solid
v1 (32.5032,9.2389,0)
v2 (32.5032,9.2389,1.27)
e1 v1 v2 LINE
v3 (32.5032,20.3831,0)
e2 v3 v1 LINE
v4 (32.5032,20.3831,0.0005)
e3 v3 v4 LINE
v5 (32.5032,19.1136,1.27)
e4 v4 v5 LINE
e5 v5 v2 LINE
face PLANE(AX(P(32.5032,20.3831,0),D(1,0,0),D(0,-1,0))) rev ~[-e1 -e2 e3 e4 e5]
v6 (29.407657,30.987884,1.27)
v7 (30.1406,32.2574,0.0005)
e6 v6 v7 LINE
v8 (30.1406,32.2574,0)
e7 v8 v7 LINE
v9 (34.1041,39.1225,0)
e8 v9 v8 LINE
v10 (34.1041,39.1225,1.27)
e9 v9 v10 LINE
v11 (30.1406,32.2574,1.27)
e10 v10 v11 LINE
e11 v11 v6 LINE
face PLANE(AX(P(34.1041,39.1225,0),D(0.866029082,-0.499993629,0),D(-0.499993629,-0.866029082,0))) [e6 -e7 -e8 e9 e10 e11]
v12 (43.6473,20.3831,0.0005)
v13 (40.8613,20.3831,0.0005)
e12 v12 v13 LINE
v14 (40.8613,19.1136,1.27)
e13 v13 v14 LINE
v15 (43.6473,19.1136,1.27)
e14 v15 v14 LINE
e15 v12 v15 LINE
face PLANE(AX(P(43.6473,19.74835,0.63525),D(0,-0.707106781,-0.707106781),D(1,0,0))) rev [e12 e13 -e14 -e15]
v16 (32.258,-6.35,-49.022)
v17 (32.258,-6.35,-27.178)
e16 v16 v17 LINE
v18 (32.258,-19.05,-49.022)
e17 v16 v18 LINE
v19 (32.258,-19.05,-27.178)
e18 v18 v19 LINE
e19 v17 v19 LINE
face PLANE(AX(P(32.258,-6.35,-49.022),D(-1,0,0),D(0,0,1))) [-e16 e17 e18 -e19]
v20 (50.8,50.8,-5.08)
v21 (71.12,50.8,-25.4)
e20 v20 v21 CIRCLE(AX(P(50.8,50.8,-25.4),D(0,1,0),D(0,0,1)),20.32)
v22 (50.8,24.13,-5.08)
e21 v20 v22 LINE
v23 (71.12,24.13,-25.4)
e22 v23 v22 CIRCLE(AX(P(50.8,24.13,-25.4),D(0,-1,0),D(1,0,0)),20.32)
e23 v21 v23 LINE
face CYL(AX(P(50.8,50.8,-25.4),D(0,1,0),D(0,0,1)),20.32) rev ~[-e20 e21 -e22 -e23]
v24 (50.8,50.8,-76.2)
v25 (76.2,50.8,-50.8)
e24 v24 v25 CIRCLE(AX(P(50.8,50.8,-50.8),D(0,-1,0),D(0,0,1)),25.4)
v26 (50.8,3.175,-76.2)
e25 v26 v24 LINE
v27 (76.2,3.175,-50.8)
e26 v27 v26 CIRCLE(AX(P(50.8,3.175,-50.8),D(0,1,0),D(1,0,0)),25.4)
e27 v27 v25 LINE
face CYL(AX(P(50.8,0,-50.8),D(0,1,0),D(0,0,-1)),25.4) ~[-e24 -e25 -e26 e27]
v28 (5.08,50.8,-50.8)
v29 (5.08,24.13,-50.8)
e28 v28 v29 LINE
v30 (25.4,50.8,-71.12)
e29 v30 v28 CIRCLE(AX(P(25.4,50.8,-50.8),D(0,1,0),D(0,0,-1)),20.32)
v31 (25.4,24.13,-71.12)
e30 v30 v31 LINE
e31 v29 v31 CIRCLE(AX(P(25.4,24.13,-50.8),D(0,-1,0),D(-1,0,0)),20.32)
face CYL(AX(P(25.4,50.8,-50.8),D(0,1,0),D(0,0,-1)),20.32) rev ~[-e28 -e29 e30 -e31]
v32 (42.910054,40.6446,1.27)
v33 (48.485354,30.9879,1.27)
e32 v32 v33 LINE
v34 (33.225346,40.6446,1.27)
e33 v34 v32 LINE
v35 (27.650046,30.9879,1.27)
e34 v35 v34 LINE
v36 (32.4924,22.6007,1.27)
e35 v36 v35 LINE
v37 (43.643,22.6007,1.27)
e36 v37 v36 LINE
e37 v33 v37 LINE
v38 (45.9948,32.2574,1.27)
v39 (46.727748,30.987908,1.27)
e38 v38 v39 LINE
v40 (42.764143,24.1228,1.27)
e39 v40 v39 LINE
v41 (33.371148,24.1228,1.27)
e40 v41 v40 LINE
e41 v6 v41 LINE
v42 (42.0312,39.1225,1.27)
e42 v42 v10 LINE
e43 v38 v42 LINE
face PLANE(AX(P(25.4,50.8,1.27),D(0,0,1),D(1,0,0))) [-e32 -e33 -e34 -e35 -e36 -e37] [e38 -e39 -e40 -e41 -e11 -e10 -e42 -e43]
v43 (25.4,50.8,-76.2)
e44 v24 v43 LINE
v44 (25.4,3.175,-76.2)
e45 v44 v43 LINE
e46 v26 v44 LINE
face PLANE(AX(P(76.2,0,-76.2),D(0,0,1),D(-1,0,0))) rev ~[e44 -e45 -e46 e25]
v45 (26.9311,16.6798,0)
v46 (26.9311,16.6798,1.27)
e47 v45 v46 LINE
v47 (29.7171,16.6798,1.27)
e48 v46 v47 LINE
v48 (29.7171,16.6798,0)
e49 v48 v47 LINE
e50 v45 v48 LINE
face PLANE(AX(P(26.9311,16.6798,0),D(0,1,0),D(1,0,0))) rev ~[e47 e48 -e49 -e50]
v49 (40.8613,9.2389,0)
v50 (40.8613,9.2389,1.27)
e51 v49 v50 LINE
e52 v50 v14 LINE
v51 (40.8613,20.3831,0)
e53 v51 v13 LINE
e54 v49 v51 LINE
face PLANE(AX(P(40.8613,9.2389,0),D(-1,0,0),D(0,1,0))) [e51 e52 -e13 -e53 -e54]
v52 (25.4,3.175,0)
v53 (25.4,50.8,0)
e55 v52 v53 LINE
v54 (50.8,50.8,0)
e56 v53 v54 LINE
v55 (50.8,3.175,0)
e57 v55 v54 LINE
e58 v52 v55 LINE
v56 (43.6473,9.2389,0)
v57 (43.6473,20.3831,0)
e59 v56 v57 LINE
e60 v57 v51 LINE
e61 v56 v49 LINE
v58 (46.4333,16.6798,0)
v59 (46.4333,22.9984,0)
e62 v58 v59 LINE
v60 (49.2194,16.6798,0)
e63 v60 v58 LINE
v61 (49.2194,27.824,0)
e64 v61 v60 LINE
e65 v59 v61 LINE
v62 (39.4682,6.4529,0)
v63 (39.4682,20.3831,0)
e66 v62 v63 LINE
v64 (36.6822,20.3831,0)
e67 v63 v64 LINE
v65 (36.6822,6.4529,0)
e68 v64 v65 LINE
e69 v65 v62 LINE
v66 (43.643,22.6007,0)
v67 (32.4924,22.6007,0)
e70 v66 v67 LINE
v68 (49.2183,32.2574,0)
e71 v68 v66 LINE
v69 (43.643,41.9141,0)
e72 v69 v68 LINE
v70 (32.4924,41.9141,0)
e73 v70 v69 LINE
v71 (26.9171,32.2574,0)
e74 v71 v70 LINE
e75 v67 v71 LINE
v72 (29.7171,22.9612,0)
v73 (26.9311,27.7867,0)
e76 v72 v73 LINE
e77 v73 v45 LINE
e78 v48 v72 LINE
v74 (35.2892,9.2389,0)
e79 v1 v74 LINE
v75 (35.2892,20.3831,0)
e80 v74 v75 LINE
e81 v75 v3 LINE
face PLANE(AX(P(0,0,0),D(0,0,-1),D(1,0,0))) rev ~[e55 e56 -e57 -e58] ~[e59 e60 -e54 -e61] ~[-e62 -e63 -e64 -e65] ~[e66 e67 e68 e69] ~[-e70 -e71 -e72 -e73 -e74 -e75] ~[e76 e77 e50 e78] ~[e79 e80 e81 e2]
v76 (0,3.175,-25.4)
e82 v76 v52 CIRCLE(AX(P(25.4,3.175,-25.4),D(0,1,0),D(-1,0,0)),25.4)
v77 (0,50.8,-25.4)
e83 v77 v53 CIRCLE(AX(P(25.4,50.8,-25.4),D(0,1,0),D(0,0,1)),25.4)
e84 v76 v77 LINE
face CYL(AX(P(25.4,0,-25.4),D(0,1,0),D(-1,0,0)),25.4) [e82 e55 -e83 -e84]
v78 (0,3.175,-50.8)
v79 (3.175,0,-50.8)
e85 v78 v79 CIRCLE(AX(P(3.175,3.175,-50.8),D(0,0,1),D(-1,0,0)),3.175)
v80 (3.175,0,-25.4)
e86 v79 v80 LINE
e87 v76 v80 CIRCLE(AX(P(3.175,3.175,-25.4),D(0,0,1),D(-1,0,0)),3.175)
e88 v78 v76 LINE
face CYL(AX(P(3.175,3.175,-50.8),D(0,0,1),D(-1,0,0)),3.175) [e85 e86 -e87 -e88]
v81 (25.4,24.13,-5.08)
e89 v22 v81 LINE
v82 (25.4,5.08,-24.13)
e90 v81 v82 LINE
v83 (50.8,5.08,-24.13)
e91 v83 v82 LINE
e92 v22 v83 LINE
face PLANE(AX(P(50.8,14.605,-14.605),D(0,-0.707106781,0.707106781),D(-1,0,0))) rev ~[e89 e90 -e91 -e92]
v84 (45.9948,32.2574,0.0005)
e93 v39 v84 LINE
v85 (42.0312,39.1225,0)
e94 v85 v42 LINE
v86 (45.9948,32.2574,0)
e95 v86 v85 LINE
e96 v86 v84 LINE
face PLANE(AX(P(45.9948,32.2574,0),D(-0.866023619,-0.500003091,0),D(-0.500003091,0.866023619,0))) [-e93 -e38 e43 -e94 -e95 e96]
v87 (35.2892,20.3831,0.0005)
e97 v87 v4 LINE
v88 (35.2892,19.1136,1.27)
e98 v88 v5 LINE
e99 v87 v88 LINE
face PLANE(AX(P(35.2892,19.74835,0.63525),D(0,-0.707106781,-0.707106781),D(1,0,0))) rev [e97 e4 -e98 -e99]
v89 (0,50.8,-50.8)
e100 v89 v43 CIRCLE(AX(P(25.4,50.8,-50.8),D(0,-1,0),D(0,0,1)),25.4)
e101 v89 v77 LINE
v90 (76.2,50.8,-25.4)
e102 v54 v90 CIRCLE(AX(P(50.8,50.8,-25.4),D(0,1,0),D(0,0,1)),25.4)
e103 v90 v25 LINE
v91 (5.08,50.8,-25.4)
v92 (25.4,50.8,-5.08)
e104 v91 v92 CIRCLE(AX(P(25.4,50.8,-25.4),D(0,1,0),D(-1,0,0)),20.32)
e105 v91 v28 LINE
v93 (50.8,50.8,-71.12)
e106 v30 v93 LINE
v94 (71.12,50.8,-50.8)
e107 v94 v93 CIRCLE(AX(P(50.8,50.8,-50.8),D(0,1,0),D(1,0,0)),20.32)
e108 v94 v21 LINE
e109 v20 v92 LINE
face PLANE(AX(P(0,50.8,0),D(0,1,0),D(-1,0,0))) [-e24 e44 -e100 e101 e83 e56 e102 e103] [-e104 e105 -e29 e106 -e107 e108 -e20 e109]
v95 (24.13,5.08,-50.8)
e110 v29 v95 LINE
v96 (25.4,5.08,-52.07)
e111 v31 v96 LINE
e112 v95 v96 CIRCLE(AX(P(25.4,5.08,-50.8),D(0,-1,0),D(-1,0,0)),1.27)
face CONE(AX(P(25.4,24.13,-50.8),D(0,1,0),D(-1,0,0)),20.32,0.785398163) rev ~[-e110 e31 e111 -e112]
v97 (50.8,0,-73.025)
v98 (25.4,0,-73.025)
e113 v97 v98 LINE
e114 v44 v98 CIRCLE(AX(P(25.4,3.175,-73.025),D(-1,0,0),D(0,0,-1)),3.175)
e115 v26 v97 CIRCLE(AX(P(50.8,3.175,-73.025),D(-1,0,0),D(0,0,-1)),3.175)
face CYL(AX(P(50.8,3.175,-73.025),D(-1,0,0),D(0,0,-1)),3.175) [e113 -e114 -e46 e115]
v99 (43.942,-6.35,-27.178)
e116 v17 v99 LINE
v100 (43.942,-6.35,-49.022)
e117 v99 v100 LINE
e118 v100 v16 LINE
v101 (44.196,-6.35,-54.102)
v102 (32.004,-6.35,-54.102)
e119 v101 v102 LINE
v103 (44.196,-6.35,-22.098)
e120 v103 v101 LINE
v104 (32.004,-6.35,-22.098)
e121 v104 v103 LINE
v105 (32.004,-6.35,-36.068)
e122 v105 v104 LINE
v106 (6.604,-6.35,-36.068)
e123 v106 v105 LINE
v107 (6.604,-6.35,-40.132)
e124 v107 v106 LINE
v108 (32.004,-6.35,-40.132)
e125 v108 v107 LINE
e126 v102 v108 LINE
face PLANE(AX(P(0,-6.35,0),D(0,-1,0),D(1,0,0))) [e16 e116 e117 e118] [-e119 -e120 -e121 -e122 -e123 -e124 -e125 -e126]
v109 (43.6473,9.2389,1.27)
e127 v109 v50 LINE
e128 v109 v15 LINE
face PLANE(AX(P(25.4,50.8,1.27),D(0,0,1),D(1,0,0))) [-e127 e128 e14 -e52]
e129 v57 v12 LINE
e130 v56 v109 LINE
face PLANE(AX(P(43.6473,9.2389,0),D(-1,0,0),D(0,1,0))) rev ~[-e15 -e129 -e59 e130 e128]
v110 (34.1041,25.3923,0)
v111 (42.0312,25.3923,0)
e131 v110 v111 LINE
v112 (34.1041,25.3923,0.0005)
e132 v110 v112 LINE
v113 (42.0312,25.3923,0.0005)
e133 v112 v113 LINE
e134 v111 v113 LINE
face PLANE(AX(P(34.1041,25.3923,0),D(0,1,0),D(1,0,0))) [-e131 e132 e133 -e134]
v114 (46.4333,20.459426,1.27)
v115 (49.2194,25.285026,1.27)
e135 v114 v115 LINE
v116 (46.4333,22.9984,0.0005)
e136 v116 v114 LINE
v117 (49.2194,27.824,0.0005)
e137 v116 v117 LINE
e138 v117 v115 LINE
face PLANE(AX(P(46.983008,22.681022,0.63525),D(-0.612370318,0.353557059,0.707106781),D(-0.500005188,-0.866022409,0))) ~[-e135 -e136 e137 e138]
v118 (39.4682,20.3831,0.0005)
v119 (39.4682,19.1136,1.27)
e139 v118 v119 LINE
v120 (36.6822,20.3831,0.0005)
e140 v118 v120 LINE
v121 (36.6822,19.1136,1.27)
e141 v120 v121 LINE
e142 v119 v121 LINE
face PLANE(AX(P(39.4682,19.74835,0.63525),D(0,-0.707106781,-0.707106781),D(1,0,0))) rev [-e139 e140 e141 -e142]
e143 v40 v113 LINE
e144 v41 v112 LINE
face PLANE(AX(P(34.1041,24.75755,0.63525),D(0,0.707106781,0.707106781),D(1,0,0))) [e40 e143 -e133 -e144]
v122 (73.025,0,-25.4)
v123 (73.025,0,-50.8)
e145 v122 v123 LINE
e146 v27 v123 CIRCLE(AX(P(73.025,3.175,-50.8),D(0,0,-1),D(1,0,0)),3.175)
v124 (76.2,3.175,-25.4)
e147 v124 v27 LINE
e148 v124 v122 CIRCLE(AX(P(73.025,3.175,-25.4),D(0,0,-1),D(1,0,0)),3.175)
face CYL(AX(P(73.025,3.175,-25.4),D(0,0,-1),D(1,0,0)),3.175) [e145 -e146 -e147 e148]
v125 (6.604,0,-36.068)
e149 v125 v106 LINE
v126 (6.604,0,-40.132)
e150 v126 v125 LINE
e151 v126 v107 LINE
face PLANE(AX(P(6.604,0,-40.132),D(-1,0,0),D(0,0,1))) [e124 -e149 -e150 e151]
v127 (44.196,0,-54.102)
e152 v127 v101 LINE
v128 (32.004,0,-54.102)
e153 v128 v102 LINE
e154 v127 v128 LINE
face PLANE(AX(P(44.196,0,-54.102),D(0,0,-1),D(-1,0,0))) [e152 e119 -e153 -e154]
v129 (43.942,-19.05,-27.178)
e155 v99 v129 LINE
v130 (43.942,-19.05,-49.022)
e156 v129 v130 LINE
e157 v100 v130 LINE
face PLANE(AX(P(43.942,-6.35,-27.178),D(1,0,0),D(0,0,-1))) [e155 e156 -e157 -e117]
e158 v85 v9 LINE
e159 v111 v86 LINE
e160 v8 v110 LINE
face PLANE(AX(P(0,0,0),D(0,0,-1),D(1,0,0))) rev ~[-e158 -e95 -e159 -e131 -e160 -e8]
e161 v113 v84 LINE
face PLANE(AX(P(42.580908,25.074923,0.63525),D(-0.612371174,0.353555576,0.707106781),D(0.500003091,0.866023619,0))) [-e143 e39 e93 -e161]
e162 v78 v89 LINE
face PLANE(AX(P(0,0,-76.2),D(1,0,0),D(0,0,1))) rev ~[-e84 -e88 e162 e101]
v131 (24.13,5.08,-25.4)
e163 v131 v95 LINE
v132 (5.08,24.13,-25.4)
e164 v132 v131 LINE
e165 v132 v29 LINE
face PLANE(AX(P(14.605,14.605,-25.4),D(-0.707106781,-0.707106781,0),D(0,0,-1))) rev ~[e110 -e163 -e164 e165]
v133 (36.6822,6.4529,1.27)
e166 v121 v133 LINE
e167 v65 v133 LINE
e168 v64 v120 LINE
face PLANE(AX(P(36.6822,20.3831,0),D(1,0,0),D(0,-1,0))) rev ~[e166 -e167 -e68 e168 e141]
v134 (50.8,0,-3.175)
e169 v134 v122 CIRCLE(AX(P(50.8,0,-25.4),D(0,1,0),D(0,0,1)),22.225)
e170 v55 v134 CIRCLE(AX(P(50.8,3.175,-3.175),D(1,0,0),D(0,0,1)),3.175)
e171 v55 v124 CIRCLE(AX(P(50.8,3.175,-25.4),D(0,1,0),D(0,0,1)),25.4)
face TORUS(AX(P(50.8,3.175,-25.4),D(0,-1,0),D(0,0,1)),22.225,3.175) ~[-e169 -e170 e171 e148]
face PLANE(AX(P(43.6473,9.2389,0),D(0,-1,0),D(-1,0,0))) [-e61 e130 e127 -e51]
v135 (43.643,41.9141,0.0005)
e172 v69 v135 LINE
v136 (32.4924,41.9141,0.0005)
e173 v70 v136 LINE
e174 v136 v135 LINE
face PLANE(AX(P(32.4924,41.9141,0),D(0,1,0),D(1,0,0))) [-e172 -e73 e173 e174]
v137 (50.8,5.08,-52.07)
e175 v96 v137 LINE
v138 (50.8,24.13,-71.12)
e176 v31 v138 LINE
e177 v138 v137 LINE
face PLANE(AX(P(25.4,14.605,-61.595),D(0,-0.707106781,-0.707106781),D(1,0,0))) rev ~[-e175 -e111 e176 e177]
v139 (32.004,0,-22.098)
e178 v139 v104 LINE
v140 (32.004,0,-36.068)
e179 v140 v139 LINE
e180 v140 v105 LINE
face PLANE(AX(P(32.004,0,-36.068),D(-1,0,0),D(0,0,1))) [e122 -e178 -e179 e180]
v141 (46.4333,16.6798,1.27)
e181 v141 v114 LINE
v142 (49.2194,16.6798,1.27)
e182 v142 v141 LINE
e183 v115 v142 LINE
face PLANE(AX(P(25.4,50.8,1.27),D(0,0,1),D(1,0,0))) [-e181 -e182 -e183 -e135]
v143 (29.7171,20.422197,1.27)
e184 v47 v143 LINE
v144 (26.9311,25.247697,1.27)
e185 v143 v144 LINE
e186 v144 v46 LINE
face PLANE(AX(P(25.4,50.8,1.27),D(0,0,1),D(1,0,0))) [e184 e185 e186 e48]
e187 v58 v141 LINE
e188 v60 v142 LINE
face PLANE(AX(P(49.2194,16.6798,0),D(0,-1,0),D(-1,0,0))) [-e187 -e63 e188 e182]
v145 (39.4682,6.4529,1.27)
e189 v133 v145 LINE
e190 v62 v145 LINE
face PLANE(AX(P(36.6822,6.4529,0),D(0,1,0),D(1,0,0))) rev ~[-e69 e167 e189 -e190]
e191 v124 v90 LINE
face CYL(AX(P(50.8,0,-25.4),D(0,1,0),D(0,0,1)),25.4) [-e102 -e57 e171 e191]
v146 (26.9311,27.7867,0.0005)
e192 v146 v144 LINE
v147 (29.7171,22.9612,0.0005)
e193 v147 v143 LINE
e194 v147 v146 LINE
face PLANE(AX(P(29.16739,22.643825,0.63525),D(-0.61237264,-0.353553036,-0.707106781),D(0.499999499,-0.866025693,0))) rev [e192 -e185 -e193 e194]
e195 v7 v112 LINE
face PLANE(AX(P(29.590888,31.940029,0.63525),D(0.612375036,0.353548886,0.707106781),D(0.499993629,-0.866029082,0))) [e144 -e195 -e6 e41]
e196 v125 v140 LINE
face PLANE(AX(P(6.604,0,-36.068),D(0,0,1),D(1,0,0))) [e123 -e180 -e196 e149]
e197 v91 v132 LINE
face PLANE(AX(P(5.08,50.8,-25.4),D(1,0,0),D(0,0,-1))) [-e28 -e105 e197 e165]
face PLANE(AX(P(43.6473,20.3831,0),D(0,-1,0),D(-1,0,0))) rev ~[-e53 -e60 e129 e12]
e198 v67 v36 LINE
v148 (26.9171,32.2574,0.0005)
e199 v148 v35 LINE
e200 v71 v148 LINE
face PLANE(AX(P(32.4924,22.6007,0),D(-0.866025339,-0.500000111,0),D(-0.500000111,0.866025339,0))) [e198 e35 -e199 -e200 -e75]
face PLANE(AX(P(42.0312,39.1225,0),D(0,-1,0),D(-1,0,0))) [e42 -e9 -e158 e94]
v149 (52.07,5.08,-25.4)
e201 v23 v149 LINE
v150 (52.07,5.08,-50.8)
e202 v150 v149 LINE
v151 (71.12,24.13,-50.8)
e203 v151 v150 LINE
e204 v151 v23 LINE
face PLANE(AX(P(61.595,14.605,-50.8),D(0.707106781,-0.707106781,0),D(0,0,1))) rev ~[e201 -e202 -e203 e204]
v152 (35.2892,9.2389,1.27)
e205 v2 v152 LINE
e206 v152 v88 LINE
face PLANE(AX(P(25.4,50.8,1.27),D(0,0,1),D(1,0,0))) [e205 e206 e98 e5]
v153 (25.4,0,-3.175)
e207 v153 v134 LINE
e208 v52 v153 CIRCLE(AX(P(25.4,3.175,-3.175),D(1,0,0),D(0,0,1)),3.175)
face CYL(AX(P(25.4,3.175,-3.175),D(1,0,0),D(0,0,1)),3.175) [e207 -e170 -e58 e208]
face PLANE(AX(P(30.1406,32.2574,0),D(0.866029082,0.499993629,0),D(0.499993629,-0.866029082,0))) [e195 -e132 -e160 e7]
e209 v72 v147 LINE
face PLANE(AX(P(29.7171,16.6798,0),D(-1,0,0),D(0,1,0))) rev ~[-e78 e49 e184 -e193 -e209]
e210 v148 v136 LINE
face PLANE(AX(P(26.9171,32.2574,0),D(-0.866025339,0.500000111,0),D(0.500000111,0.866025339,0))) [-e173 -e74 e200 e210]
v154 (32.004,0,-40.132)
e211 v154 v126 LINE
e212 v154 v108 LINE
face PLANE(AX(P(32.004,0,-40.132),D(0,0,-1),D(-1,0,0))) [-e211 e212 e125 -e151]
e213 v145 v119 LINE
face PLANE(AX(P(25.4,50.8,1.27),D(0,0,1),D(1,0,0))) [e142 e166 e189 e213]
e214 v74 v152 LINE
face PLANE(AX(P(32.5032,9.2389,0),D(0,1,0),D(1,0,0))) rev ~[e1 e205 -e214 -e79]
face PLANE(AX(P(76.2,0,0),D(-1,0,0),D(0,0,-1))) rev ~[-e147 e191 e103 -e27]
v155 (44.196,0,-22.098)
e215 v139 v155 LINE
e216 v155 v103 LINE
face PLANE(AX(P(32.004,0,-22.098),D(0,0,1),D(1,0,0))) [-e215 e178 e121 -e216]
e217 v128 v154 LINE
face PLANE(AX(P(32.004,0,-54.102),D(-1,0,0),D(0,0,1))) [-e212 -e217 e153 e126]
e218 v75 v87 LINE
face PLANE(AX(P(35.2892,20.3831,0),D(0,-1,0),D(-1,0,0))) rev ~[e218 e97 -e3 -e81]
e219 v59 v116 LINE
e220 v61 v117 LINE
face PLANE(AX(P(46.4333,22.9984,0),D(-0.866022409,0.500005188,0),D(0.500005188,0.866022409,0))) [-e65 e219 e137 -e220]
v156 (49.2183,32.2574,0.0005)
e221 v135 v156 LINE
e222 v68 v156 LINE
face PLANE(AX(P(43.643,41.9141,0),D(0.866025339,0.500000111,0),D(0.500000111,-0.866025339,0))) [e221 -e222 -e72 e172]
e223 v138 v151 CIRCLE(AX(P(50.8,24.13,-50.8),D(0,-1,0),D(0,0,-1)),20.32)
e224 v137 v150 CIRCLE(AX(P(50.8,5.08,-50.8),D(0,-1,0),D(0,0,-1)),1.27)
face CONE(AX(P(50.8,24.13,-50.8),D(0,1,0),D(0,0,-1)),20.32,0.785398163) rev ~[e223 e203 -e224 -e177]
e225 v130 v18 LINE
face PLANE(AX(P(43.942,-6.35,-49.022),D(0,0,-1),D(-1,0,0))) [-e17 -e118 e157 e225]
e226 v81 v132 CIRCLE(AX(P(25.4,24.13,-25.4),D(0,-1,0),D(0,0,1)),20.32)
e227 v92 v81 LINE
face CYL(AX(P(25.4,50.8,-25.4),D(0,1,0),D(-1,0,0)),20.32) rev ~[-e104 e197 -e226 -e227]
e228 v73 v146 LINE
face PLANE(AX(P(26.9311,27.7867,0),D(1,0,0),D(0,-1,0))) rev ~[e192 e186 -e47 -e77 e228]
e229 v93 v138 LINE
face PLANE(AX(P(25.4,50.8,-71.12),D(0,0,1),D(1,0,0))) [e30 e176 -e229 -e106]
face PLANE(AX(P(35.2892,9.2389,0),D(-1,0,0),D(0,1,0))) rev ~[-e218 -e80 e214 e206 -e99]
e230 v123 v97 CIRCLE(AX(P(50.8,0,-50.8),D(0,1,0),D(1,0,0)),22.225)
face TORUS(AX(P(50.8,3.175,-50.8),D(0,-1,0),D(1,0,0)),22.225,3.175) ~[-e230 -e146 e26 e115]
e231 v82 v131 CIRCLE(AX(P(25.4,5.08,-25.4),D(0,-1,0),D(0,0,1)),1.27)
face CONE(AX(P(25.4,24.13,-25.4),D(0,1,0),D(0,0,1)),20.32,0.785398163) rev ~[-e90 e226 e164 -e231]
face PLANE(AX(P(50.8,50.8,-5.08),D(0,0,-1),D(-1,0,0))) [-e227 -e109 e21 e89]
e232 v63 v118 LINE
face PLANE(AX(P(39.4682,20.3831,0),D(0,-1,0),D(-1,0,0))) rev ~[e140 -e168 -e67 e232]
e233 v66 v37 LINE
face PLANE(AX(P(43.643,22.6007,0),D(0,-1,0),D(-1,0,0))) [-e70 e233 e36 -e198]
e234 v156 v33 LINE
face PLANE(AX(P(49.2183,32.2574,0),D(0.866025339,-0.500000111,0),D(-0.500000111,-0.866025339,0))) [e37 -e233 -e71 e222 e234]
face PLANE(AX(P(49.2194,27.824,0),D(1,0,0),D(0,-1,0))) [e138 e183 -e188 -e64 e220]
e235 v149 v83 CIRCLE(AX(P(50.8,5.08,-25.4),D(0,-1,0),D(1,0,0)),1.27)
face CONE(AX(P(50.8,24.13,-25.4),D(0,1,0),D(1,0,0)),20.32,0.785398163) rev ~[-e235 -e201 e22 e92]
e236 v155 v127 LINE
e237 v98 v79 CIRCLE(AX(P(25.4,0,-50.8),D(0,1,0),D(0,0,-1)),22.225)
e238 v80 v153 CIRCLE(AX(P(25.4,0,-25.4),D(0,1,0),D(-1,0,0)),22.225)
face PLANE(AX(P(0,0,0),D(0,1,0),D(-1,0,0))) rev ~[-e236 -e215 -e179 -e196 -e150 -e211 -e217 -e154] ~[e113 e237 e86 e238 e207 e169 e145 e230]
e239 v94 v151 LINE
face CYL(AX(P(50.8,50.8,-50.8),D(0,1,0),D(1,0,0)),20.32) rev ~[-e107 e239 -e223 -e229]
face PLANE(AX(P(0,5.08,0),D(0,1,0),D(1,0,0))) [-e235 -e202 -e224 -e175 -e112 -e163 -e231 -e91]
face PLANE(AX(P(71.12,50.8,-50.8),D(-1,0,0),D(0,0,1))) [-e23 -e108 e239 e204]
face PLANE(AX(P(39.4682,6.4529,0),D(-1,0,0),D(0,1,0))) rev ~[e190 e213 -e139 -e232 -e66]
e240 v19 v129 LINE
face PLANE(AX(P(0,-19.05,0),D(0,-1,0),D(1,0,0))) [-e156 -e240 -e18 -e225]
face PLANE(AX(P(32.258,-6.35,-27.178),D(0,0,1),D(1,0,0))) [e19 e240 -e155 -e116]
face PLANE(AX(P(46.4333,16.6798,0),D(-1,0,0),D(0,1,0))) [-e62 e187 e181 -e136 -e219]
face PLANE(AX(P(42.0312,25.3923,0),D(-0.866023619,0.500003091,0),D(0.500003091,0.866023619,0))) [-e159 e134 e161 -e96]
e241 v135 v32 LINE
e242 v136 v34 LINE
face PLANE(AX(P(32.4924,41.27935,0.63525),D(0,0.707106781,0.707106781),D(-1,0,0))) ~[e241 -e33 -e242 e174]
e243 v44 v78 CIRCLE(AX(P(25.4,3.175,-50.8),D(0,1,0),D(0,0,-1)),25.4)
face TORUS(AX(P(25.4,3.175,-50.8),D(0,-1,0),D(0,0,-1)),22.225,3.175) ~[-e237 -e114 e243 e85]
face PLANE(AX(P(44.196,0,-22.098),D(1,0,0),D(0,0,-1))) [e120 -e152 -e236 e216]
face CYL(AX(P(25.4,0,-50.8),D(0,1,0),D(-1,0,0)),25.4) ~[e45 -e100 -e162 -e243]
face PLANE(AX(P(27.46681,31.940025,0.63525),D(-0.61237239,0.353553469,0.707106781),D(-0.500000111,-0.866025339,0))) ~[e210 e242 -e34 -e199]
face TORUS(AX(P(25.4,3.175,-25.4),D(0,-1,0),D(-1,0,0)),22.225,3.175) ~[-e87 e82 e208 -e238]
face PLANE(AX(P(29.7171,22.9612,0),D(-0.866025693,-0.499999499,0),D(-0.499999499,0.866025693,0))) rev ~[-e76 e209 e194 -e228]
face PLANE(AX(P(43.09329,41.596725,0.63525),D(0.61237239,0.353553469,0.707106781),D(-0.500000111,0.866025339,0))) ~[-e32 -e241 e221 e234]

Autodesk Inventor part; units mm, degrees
ref_plane "YZ Plane" through (0, 0, 0) normal (1, 0, 0) x (0, 1, 0)
ref_plane "XZ Plane" through (0, 0, 0) normal (0, 1, 0) x (-1, 0, 0)
ref_plane "XY Plane" through (0, 0, 0) normal (0, 0, 1) x (1, 0, 0)
sketch "Sketch1" plane through (0, 0, 0) normal (0, 1, 0) x (-1, 0, 0)
  line L0 (0, 0) -> (-76.2, 0)
  line L1 (-76.2, 0) -> (-76.2, -76.2)
  line L2 (-76.2, -76.2) -> (0, -76.2)
  line L3 (0, -76.2) -> (0, 0)
  dimension "d0" = 76.2
  dimension "d1" = 76.2
extrude "Extrusion1" add sketch "Sketch1" along normal blind 50.8
sketch "Sketch3" plane through (0, 0, 0) normal (0, -1, 0) x (1, 0, 0)
  line L0 (44.196, -54.102) -> (32.004, -54.102)
  line L1 (32.004, -54.102) -> (32.004, -22.098)
  line L2 (32.004, -22.098) -> (44.196, -22.098)
  line L3 (44.196, -22.098) -> (44.196, -54.102)
  line L4 (76.2, 0) -> (76.2, -76.2) projected
  line L5 (0, 0) -> (76.2, 0) projected
  line L6 (32.004, -40.132) -> (6.604, -40.132)
  line L7 (6.604, -40.132) -> (6.604, -36.068)
  line L8 (6.604, -36.068) -> (32.004, -36.068)
  line L9 (32.004, -36.068) -> (32.004, -40.132)
  point P0 (44.196, -38.1)
  point P1 (76.2, -38.1)
  point P2 (38.1, -22.098)
  point P3 (38.1, 0)
  point P4 (6.604, -38.1)
  point P5 (32.004, -38.1)
  dimension "d10" = 32.004
  dimension "d11" = 12.192
  dimension "d12" = 25.4
  dimension "d13" = 4.064
extrude "Extrusion3" add sketch "Sketch3" along normal blind 6.35
sketch "Sketch4" plane through (0, -6.35, 0) normal (0, -1, 0) x (1, 0, 0)
  line L0 (43.942, -49.022) -> (32.258, -49.022)
  line L1 (32.258, -49.022) -> (32.258, -27.178)
  line L2 (32.258, -27.178) -> (43.942, -27.178)
  line L3 (43.942, -27.178) -> (43.942, -49.022)
  line L4 (44.196, -54.102) -> (44.196, -22.098) projected
  line L5 (32.004, -54.102) -> (44.196, -54.102) projected
  point P0 (0, 0)
  point P1 (32.258, -38.1)
  point P2 (44.196, -38.1)
  point P3 (38.1, -49.022)
  point P4 (38.1, -54.102)
  dimension "d16" = 21.844
  dimension "d17" = 11.684
extrude "Extrusion4" add sketch "Sketch4" along normal blind 12.7
fillet "Fillet1" radius 25.4 4 edges at (0, 25.4, -76.2) (0, 25.4, 0) (76.2, 25.4, -76.2) (76.2, 25.4, 0)
sketch "Sketch5" plane through (0, 50.8, 0) normal (0, 1, 0) x (1, 0, 0)
  arc A0 (50.8, 0) -> (76.2, 25.4) centre (50.8, 25.4) ccw projected
  line L0 (76.2, 25.4) -> (76.2, 50.8) projected
  arc A1 (76.2, 50.8) -> (50.8, 76.2) centre (50.8, 50.8) ccw projected
  line L1 (50.8, 76.2) -> (25.4, 76.2) projected
  arc A2 (25.4, 76.2) -> (0, 50.8) centre (25.4, 50.8) ccw projected
  line L2 (0, 50.8) -> (0, 25.4) projected
  arc A3 (0, 25.4) -> (25.4, 0) centre (25.4, 25.4) ccw projected
  line L3 (25.4, 0) -> (50.8, 0) projected
  arc A4 (25.4, 71.12) -> (5.08, 50.8) centre (25.4, 50.8) ccw
  line L4 (25.4, 71.12) -> (50.8, 71.12)
  arc A5 (71.12, 50.8) -> (50.8, 71.12) centre (50.8, 50.8) ccw
  line L5 (71.12, 50.8) -> (71.12, 25.4)
  arc A6 (50.8, 5.08) -> (71.12, 25.4) centre (50.8, 25.4) ccw
  line L6 (50.8, 5.08) -> (25.4, 5.08)
  arc A7 (5.08, 25.4) -> (25.4, 5.08) centre (25.4, 25.4) ccw
  line L7 (5.08, 25.4) -> (5.08, 50.8)
  point P0 (0, 0)
  point P1 (38.1, 76.2)
  dimension "d21" = 5.08
extrude "Extrusion5" cut sketch "Sketch5" against normal blind 45.72 contours L4 A5 L5 A6 L6 A7 L7 A4
fillet "Fillet2" radius 3.175 8 edges at (0, 0, -38.1) (7.4395, 0, -7.4395) (38.1, 0, 0) (68.7605, 0, -7.4395) (76.2, 0, -38.1) (68.7605, 0, -68.7605) (38.1, 0, -76.2) (7.4395, 0, -68.7605)
chamfer "Chamfer1" distance 19.05 angle 45 8 edges at (38.1, 5.08, -5.08) (11.0316, 5.08, -11.0316) (5.08, 5.08, -38.1) (11.0316, 5.08, -65.1684) (38.1, 5.08, -71.12) (65.1684, 5.08, -65.1684) (71.12, 5.08, -38.1) (65.1684, 5.08, -11.0316)
sketch "Sketch6" plane through (0, 50.8, -50.8) normal (-1, 0, 0) x (0, 0, 1)
  line L0 (7.2288, -10.0054) -> (18.3794, -10.0054)
  line L1 (18.3794, -10.0054) -> (23.9547, -19.6621)
  line L2 (23.9547, -19.6621) -> (18.3794, -29.3188)
  line L3 (18.3794, -29.3188) -> (7.2288, -29.3188)
  line L4 (7.2288, -29.3188) -> (1.6535, -19.6621)
  line L5 (1.6535, -19.6621) -> (7.2288, -10.0054)
  line L6 (16.7677, -26.5271) -> (20.7312, -19.6621)
  line L7 (20.7312, -19.6621) -> (16.7677, -12.797)
  line L8 (16.7677, -12.797) -> (8.8406, -12.797)
  line L9 (8.8406, -12.797) -> (4.877, -19.6621)
  line L10 (4.877, -19.6621) -> (8.8406, -26.5271)
  line L11 (8.8406, -26.5271) -> (16.7677, -26.5271)
  line L12 (23.9558, -24.0955) -> (23.9558, -35.2397)
  line L13 (23.9558, -35.2397) -> (21.1698, -35.2397)
  line L14 (21.1698, -35.2397) -> (21.1698, -28.9211)
  line L15 (21.1698, -28.9211) -> (23.9558, -24.0955)
  line L16 (18.3837, -42.6806) -> (15.5977, -42.6806)
  line L17 (15.5977, -42.6806) -> (15.5977, -31.5364)
  line L18 (7.2396, -31.5364) -> (7.2396, -42.6806)
  line L19 (7.2396, -42.6806) -> (10.0256, -42.6806)
  line L20 (10.0256, -42.6806) -> (10.0256, -31.5364)
  line L21 (1.6675, -24.1328) -> (1.6675, -35.2397)
  line L22 (1.6675, -35.2397) -> (4.4535, -35.2397)
  line L23 (4.4535, -35.2397) -> (4.4535, -28.9583)
  line L24 (4.4535, -28.9583) -> (1.6675, -24.1328)
  line L25 (14.2047, -45.4666) -> (14.2047, -31.5364)
  line L26 (14.2047, -31.5364) -> (11.4186, -31.5364)
  line L27 (11.4186, -31.5364) -> (11.4186, -45.4666)
  line L28 (11.4186, -45.4666) -> (14.2047, -45.4666)
  line L29 (10.0256, -31.5364) -> (7.2396, -31.5364)
  line L30 (15.5977, -42.6806) -> (14.2047, -42.6806) construction
  line L31 (10.0256, -42.6806) -> (11.4186, -42.6806) construction
  line L32 (18.3837, -42.6806) -> (18.3837, -31.5364)
  line L33 (18.3837, -31.5364) -> (15.5977, -31.5364)
  line L34 (12.8041, -44.5678) -> (12.8041, -1.5402) construction
  line L35 (36.5346, -1.5402) -> (-10.9264, -1.5402)
  point P0 (50.8, -50.8)
  point P1 (12.8041, -19.6621)
  dimension "d28" = 11.1506
  dimension "d29" = 2.7916
  dimension "d30" = 2.2177
  dimension "d31" = 2.2232
  dimension "d32" = 2.786
  dimension "d33" = 2.786
  dimension "d34" = 2.786
  dimension "d35" = 2.786
  dimension "d36" = 2.2177
  dimension "d37" = 11.1441
  dimension "d38" = 11.1441
  dimension "d39" = 13.9302
  dimension "d40" = 2.786
  dimension "d41" = 2.786
  dimension "d42" = 2.786
  dimension "d43" = 1.393
  dimension "d44" = 2.7903
sketch "Sketch7" plane through (25.4, 50.8, 0) normal (0, 0, 1) x (1, 0, 0)
  line L0 (4.3171, -27.8388) -> (1.5311, -23.0133)
  line L1 (1.5311, -23.0133) -> (1.5311, -34.1202)
  line L2 (4.7406, -18.5426) -> (8.7041, -25.4077)
  line L3 (7.0924, -28.1993) -> (1.5171, -18.5426)
  line L4 (12.6677, -47.791) -> (12.6677, -4.9445) construction
  line L5 (8.7041, -11.6775) -> (4.7406, -18.5426)
  line L6 (1.5171, -18.5426) -> (7.0924, -8.8859)
  line L7 (1.5311, -34.1202) -> (4.3171, -34.1202)
  line L8 (4.3171, -34.1202) -> (4.3171, -27.8388)
  line L9 (16.6312, -25.4077) -> (20.5948, -18.5426)
  line L10 (23.8183, -18.5426) -> (18.243, -28.1993)
  line L11 (18.243, -28.1993) -> (7.0924, -28.1993)
  line L12 (7.0924, -8.8859) -> (18.243, -8.8859)
  line L13 (18.243, -8.8859) -> (23.8183, -18.5426)
  line L14 (84.753, -4.9445) -> (-59.4176, -4.9445)
  line L15 (16.6312, -11.6775) -> (8.7041, -11.6775)
  line L16 (8.7041, -25.4077) -> (16.6312, -25.4077)
  line L17 (20.5948, -18.5426) -> (16.6312, -11.6775)
  line L18 (21.0333, -34.1202) -> (21.0333, -27.8016)
  line L19 (21.0333, -27.8016) -> (23.8194, -22.976)
  line L20 (23.8194, -34.1202) -> (21.0333, -34.1202)
  line L21 (23.8194, -22.976) -> (23.8194, -34.1202)
  line L22 (18.2473, -41.5611) -> (15.4613, -41.5611)
  line L23 (15.4613, -41.5611) -> (15.4613, -30.4169)
  line L24 (14.0682, -30.4169) -> (11.2822, -30.4169)
  line L25 (18.2473, -30.4169) -> (15.4613, -30.4169)
  line L26 (9.8892, -30.4169) -> (7.1032, -30.4169)
  line L27 (7.1032, -30.4169) -> (7.1032, -41.5611)
  line L28 (7.1032, -41.5611) -> (9.8892, -41.5611)
  line L29 (18.2473, -41.5611) -> (18.2473, -30.4169)
  line L30 (15.4613, -41.5611) -> (14.0682, -41.5611) construction
  line L31 (9.8892, -41.5611) -> (9.8892, -30.4169)
  line L32 (9.8892, -41.5611) -> (11.2822, -41.5611) construction
  line L33 (14.0682, -44.3471) -> (14.0682, -30.4169)
  line L34 (11.2822, -30.4169) -> (11.2822, -44.3471)
  line L35 (11.2822, -44.3471) -> (14.0682, -44.3471)
  point P0 (-25.4, -50.8)
  point P1 (2.3088, -54.2043)
  point P2 (12.6677, -18.5426)
  dimension "d45" = 11.1506
  dimension "d46" = 2.7916
  dimension "d47" = 2.2177
  dimension "d48" = 2.2232
  dimension "d49" = 2.786
  dimension "d50" = 2.786
  dimension "d51" = 2.786
  dimension "d52" = 2.786
  dimension "d53" = 2.2177
  dimension "d54" = 11.1441
  dimension "d55" = 11.1441
  dimension "d56" = 13.9302
  dimension "d57" = 2.786
  dimension "d58" = 2.786
  dimension "d59" = 2.786
  dimension "d60" = 1.393
  dimension "d61" = 2.7903
extrude "Extrusion6" add sketch "Sketch7" along normal blind 1.27
chamfer "Chamfer2" distance 1.27 angle 45 11 edges at (47.8264, 25.4112, 1.27) (42.2543, 20.3831, 1.27) (38.0752, 20.3831, 1.27) (33.8962, 20.3831, 1.27) (28.3241, 25.3739, 1.27) (32.1224, 28.8249, 1.27) (38.0677, 25.3923, 1.27) (44.013, 28.8249, 1.27) (46.4306, 37.0858, 1.27) (38.0677, 41.9141, 1.27) (29.7047, 37.0858, 1.27)
properties part number "Hand Base"
